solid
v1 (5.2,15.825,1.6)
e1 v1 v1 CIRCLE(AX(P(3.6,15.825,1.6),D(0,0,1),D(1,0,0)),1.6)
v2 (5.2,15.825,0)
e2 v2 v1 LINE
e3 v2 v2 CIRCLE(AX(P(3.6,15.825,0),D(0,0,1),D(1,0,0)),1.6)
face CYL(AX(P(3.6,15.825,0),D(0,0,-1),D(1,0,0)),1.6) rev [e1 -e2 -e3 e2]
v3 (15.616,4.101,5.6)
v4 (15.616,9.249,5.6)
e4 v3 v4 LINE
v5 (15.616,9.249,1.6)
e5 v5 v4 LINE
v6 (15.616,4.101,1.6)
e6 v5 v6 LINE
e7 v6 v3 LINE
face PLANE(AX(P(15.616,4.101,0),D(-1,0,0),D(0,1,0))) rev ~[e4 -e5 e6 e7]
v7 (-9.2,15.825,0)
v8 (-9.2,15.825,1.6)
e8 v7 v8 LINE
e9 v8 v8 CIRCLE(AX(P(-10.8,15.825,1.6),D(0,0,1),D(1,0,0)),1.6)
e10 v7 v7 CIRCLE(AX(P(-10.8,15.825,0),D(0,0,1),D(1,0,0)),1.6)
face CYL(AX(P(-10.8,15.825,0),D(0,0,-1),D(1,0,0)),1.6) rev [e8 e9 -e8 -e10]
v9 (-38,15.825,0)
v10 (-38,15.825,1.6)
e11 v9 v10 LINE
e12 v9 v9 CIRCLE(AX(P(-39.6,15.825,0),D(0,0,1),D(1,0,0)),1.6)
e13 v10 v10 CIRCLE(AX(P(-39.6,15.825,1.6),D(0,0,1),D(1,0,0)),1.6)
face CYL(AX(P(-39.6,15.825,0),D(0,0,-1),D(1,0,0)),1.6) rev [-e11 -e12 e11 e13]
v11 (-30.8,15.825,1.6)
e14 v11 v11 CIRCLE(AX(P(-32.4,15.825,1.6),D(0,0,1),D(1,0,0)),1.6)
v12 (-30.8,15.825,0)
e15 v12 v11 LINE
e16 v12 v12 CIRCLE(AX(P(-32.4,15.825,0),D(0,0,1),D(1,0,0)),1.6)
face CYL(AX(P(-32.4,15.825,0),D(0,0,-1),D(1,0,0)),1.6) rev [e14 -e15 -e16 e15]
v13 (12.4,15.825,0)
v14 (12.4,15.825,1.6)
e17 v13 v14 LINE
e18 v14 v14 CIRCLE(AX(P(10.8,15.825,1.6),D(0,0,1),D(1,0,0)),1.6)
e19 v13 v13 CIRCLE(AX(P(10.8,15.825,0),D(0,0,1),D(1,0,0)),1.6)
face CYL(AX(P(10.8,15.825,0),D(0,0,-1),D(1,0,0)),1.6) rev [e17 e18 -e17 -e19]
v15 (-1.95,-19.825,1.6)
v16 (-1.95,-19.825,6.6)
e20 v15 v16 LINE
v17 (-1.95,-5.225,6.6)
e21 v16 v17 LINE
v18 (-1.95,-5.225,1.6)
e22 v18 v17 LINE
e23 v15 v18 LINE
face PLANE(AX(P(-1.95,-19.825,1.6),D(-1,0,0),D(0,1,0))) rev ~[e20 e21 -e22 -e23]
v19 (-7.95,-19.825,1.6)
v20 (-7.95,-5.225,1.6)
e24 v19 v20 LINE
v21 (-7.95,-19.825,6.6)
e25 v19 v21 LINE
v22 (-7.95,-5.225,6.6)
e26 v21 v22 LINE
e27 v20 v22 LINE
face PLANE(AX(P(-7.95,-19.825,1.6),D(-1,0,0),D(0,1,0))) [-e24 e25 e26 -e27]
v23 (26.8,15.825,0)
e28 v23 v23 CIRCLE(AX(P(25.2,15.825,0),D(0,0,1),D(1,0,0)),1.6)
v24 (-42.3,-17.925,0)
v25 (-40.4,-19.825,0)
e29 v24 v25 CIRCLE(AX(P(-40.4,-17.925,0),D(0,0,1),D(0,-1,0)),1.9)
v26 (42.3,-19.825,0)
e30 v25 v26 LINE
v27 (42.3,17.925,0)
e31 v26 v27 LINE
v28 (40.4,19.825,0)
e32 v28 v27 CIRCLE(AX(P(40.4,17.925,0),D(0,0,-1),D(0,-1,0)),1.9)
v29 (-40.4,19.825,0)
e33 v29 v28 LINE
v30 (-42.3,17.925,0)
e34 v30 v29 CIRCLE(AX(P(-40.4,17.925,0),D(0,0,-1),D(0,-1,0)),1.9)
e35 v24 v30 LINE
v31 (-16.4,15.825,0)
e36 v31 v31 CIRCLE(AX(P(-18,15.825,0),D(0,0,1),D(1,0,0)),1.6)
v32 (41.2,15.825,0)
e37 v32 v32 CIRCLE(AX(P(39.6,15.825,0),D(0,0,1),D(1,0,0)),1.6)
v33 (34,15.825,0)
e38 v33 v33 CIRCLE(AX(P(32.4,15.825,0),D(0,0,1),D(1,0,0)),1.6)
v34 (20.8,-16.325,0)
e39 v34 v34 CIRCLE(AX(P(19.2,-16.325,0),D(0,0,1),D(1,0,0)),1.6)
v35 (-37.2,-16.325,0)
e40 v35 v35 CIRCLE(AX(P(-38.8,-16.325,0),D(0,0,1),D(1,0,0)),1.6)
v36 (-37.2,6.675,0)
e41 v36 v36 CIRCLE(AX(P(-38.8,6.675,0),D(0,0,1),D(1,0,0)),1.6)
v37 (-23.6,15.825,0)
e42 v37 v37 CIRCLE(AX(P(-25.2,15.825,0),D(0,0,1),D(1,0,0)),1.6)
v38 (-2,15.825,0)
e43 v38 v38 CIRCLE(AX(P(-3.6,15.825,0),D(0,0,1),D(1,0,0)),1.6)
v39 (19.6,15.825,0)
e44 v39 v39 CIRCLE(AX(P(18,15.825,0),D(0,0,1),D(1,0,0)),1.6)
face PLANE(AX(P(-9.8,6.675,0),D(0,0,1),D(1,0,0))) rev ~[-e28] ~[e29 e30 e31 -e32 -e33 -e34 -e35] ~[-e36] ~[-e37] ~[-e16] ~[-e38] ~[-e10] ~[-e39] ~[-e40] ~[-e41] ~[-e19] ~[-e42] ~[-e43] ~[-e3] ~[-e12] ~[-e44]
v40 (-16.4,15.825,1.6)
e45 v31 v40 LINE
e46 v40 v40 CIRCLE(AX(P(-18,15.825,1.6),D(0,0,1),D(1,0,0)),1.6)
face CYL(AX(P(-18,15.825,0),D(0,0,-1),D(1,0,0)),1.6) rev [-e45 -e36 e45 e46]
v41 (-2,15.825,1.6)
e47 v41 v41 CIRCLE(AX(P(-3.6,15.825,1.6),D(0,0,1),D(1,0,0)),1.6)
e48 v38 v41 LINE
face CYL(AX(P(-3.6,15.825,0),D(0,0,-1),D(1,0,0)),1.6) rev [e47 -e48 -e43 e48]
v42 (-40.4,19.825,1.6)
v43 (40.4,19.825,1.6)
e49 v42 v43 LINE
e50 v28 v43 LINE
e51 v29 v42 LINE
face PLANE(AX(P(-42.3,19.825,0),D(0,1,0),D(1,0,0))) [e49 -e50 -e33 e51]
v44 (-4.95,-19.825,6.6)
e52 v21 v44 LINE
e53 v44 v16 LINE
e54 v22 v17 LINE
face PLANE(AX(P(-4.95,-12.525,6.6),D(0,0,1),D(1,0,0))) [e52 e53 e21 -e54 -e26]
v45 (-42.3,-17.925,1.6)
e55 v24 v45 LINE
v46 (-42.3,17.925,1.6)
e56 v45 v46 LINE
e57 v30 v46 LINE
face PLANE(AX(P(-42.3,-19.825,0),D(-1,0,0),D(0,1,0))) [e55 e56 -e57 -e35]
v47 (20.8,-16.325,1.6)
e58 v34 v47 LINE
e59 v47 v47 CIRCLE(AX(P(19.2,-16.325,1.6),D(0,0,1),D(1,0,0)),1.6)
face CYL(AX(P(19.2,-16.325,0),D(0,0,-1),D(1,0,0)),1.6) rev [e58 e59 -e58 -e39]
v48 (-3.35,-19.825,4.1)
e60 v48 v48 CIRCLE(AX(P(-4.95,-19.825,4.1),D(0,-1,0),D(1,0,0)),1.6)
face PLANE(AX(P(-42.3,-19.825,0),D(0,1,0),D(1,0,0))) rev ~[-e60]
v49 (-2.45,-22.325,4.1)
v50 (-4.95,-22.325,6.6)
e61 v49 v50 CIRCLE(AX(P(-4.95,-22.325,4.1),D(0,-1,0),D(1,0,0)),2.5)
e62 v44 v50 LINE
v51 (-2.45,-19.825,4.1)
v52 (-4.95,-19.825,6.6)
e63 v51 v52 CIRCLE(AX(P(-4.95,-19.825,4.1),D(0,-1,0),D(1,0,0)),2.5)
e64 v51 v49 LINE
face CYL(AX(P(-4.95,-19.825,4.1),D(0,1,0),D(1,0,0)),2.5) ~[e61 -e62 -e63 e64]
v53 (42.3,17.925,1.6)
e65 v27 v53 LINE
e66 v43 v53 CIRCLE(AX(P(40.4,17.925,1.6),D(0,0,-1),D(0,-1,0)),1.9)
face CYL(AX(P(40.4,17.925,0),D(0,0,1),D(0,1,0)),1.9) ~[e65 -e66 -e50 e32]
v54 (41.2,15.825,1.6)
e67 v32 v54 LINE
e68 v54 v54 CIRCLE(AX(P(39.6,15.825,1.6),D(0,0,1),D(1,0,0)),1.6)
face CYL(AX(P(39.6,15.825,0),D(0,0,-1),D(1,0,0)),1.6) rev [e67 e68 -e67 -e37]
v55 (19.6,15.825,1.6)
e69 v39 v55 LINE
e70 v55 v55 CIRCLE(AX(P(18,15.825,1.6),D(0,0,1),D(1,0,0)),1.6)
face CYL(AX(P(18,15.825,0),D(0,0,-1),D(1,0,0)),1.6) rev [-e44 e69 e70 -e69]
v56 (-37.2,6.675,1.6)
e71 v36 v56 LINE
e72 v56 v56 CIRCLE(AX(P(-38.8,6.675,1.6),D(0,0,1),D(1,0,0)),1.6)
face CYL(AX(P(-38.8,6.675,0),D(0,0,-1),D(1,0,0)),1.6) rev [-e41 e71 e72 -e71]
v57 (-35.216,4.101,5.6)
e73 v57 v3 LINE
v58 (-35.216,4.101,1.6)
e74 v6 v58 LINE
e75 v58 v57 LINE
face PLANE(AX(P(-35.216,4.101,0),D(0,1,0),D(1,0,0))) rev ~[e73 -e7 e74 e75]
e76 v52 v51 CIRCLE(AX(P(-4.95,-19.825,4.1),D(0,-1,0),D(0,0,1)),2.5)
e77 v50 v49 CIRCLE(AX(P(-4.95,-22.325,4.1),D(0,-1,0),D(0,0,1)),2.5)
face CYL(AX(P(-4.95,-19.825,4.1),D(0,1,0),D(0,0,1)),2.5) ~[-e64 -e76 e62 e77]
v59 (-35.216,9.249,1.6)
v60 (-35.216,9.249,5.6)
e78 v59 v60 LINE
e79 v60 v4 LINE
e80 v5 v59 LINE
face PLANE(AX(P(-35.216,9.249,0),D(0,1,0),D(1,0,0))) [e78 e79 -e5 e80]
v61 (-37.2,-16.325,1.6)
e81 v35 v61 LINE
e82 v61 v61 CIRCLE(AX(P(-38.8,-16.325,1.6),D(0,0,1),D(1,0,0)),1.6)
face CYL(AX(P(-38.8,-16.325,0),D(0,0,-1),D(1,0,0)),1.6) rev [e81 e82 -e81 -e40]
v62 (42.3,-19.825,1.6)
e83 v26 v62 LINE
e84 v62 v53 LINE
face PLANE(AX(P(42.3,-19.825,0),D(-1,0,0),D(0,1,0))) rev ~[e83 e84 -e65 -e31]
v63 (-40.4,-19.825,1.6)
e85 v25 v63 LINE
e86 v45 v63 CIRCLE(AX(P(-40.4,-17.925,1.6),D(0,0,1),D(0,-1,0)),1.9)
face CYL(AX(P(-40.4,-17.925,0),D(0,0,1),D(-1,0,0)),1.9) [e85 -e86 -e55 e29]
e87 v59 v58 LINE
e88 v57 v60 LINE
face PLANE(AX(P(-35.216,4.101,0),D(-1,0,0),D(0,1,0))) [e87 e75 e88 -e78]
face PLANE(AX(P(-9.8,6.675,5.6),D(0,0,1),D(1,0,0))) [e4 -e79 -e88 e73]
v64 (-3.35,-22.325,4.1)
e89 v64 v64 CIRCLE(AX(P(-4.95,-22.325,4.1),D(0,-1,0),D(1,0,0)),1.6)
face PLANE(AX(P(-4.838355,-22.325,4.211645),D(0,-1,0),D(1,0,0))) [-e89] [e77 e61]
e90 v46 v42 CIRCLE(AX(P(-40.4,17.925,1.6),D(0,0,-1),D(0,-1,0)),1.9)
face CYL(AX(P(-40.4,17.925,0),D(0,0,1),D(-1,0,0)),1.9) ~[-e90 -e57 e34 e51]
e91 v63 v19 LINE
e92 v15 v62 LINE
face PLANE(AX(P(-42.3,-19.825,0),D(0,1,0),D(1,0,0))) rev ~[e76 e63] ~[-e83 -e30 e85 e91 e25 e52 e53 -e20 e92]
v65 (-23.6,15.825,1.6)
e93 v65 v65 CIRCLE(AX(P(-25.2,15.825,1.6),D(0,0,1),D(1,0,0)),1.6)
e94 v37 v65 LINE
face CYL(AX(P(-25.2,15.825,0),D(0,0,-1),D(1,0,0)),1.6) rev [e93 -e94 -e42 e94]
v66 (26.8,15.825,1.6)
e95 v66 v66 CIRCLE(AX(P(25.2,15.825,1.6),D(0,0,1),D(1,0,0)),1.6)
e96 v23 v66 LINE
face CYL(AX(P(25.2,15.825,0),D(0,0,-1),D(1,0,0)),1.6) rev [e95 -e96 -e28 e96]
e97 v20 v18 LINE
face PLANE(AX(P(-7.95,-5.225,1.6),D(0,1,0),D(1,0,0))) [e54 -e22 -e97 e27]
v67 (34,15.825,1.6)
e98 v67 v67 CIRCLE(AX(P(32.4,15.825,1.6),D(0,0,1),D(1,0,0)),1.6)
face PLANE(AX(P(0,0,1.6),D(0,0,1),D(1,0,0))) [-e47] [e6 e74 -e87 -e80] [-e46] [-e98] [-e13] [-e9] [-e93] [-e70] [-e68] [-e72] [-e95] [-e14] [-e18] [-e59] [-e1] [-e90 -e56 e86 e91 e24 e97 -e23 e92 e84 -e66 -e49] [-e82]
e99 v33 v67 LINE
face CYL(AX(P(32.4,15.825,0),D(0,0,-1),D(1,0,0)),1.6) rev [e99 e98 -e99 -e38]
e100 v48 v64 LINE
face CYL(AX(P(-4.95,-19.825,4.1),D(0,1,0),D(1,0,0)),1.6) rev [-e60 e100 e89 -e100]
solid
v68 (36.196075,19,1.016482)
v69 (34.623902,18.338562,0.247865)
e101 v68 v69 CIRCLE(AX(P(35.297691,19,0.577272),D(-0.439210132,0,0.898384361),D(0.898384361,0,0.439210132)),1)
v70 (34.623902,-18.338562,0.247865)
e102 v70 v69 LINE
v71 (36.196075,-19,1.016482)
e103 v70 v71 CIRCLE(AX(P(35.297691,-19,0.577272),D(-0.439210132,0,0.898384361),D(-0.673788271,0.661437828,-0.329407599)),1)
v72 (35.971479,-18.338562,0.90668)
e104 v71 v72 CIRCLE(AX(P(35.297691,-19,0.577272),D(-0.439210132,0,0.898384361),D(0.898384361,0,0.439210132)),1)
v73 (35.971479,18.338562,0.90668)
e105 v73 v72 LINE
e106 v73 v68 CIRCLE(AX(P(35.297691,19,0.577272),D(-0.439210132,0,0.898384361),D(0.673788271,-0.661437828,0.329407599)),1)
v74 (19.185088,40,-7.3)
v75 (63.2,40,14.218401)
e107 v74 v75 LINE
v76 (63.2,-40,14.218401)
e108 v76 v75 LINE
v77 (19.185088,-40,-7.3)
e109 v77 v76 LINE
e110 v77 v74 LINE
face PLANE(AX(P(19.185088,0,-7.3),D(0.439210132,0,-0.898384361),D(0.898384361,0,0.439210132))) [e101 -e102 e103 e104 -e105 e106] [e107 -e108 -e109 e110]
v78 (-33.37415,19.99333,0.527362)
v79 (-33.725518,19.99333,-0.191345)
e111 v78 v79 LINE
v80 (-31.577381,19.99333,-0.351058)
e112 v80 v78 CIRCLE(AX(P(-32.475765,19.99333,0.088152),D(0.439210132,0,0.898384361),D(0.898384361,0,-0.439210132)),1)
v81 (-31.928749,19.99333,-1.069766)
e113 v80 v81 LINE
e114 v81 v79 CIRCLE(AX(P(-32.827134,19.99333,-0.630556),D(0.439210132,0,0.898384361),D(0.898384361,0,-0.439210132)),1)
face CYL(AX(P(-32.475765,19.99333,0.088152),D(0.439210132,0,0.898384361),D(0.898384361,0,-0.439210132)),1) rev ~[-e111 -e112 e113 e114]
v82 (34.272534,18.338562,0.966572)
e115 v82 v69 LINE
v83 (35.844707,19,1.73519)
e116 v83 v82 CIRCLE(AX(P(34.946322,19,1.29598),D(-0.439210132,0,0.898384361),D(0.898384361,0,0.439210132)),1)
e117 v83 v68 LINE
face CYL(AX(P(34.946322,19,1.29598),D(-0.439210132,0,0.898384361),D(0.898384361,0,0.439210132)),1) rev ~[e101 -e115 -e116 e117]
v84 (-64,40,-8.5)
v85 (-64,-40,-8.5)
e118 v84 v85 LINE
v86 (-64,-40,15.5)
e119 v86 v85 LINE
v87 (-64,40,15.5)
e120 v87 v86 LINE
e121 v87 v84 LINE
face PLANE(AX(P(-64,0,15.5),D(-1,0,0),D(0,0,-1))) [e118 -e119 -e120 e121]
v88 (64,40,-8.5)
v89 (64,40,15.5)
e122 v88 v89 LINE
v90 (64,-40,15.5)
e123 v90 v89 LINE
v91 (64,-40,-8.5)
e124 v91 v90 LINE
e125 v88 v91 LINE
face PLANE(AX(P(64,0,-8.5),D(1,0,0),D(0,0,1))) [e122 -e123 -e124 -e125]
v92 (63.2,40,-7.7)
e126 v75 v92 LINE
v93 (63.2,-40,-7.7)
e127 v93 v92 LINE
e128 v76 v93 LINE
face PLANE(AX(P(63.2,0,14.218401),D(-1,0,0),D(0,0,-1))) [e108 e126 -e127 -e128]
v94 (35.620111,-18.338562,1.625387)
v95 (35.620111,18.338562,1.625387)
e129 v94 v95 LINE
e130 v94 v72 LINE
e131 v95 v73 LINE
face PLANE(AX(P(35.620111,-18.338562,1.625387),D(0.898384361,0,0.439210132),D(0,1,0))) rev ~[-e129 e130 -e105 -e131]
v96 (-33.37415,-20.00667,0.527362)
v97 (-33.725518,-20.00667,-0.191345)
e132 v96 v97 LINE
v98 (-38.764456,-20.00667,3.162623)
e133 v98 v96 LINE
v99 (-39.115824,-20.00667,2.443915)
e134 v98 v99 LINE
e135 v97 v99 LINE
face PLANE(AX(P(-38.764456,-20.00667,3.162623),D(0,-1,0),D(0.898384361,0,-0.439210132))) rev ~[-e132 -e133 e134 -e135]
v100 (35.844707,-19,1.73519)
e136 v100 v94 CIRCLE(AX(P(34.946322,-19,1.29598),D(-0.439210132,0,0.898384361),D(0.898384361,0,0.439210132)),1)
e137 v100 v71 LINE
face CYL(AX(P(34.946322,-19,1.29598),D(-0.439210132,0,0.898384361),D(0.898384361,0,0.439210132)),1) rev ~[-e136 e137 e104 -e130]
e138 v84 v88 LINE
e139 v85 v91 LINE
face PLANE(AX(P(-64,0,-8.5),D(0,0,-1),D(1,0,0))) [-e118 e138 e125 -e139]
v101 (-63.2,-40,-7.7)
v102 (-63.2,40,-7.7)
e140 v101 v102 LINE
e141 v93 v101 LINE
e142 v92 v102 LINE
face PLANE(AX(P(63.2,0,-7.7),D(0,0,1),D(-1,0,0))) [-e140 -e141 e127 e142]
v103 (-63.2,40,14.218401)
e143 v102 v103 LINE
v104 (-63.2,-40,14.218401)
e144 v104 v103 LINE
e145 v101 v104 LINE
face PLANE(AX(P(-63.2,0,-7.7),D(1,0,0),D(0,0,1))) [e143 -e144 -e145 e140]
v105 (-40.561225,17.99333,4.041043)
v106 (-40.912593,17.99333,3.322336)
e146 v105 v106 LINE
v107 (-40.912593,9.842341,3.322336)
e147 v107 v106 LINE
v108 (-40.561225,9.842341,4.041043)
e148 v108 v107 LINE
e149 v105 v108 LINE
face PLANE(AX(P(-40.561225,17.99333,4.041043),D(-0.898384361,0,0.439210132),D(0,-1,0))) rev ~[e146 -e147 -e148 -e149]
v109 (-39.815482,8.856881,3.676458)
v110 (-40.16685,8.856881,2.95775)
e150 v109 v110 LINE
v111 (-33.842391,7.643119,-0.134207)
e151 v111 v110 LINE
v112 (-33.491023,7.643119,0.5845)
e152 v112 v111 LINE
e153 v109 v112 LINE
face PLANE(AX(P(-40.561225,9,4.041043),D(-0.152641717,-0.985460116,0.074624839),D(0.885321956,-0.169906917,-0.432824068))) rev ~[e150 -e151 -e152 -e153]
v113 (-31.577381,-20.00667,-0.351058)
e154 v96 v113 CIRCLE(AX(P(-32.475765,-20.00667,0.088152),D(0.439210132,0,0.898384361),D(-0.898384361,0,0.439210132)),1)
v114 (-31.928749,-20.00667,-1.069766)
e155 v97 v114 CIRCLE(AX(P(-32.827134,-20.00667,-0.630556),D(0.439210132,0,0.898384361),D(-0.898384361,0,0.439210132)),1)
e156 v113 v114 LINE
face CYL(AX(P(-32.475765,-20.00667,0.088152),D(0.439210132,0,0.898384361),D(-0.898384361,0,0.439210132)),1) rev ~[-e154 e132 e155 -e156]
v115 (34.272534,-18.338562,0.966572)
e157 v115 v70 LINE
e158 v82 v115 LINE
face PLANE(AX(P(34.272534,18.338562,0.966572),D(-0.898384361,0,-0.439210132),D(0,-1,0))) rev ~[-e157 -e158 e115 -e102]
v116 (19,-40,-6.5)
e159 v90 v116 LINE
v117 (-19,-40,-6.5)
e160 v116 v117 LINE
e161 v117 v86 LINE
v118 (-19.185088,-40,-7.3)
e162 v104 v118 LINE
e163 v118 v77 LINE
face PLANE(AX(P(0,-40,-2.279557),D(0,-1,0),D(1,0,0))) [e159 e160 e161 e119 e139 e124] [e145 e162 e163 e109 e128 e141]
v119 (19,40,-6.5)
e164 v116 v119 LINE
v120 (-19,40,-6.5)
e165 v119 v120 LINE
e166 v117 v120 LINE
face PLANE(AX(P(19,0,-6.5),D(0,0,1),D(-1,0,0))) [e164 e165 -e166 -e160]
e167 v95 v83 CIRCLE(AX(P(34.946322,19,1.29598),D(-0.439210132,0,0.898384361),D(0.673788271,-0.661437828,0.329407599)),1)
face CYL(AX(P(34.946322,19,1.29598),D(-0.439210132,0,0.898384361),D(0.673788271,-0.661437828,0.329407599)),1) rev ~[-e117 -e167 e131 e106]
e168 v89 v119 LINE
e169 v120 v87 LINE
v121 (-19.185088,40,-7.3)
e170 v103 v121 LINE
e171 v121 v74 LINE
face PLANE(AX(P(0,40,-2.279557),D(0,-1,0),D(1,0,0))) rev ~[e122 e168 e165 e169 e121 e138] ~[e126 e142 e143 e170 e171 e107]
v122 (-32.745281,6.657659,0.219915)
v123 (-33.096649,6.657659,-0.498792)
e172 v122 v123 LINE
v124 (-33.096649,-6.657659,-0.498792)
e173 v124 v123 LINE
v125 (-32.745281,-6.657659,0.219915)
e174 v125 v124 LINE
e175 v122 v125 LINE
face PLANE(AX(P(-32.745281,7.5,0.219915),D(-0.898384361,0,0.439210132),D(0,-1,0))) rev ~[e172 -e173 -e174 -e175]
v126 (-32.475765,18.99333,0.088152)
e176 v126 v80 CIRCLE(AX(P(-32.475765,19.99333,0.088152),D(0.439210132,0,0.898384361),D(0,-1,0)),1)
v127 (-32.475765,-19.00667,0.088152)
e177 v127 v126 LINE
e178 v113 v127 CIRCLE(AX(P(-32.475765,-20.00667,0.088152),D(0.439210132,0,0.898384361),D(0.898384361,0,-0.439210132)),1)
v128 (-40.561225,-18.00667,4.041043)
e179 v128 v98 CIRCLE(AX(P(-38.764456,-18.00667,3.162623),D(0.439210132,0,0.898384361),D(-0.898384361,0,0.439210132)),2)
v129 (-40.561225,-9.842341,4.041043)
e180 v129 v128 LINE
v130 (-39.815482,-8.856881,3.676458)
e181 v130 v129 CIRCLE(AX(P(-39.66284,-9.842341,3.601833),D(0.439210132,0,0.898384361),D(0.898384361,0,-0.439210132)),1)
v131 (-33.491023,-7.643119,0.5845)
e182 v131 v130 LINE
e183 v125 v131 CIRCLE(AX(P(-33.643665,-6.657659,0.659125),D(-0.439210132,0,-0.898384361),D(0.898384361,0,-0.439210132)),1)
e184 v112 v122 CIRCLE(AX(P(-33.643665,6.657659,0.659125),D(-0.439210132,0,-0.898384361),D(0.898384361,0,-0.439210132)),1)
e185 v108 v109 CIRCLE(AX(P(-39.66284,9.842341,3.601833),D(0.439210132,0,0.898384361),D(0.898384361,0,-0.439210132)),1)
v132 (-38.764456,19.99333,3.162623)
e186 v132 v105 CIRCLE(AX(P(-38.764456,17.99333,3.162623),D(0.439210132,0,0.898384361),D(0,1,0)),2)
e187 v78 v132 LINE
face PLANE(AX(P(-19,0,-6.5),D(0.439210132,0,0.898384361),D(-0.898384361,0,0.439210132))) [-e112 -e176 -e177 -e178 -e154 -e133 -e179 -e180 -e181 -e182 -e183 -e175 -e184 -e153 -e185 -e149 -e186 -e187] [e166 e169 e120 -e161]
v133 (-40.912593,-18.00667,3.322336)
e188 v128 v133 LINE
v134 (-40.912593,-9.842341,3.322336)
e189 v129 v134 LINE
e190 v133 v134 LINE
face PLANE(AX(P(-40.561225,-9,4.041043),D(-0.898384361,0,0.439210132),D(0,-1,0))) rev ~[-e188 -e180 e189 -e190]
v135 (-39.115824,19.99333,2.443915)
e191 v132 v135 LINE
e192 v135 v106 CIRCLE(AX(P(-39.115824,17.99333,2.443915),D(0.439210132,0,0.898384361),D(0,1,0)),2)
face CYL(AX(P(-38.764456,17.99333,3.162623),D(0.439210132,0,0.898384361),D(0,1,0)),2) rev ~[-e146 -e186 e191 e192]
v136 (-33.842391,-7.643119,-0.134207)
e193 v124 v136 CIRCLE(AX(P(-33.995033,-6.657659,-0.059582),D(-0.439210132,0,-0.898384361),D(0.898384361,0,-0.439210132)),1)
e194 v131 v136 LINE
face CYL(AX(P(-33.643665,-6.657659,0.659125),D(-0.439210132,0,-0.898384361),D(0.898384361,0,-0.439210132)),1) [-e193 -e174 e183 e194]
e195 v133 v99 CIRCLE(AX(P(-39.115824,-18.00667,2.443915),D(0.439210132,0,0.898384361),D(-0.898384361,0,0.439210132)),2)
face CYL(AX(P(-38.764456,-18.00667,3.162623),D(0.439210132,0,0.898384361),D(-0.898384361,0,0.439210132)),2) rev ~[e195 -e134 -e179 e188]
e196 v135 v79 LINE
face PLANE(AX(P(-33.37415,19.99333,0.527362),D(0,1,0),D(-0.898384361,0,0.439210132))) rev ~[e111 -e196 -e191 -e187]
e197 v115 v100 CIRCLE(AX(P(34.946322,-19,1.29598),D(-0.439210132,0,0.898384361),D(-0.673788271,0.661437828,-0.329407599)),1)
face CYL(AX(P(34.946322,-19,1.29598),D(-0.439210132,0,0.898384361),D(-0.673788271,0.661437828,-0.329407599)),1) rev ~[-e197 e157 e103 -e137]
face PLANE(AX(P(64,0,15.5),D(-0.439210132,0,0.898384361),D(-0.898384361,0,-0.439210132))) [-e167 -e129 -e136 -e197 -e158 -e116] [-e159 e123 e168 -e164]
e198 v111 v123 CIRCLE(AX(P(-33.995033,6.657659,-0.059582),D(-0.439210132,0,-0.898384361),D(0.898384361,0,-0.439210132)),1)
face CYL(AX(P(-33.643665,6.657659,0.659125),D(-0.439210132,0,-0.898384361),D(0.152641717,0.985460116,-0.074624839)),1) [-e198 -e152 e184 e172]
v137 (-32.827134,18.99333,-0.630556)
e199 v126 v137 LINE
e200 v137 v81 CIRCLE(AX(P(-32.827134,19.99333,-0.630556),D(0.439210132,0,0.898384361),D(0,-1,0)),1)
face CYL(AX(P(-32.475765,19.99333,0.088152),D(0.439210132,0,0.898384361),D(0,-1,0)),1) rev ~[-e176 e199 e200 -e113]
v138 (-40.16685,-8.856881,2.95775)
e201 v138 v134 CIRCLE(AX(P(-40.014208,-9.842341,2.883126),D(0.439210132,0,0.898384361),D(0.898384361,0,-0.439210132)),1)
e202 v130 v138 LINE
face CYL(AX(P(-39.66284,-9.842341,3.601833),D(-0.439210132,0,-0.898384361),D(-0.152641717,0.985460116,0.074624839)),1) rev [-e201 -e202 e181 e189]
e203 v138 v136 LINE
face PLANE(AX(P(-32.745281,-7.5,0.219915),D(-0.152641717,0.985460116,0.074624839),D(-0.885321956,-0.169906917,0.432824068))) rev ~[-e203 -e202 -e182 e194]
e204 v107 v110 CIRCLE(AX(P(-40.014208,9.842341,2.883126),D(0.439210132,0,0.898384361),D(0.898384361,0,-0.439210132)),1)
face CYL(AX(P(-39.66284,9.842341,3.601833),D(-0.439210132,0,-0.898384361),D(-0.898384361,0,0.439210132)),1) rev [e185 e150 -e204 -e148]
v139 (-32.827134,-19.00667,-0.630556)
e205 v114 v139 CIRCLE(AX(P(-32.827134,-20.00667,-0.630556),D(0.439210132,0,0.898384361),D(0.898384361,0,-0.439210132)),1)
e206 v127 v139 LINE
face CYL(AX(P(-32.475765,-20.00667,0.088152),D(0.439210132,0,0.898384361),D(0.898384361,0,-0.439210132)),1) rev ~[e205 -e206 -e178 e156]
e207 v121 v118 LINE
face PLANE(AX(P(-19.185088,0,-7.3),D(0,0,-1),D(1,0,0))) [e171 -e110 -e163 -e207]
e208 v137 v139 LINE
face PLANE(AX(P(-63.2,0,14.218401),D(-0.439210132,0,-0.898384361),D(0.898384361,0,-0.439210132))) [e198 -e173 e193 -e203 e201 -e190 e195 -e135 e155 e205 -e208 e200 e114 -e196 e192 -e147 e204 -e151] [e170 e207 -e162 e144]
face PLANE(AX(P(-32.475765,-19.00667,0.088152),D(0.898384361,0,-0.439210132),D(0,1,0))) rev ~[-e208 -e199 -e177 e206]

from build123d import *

# Parameters (mm, degrees)
F0_W      = 84.6
F0_H      = 39.65
F0_R      = 1.6
F1_DEPTH  = 1.6
F2_R      = 1.9
F3_W      = 6
F3_H      = 14.6
F4_DEPTH  = 5
F5_R      = 1.6
F6_DEPTH  = 2.5
F7_W      = 50.832
F7_H      = 5.148
F8_DEPTH  = 5.6
F10_DEPTH = 40
F12_DEPTH = 3
F14_DEPTH = 3
F15_R     = 1


with BuildPart() as f1:
    # F0 (on Top) → F1 (new body)
    with BuildSketch(Plane.XY):
        Rectangle(F0_W, F0_H)
        with Locations((-38.8, -16.325)):
            Circle(F0_R, mode=Mode.SUBTRACT)
        with Locations((19.2, -16.325)):
            Circle(F0_R, mode=Mode.SUBTRACT)
        with Locations((-38.8, 6.675)):
            Circle(F0_R, mode=Mode.SUBTRACT)
        with Locations((-39.6, 15.825)):
            Circle(F0_R, mode=Mode.SUBTRACT)
        with Locations((-32.4, 15.825)):
            Circle(F0_R, mode=Mode.SUBTRACT)
        with Locations((-25.2, 15.825)):
            Circle(F0_R, mode=Mode.SUBTRACT)
        with Locations((-18, 15.825)):
            Circle(F0_R, mode=Mode.SUBTRACT)
        with Locations((-10.8, 15.825)):
            Circle(F0_R, mode=Mode.SUBTRACT)
        with Locations((-3.6, 15.825)):
            Circle(F0_R, mode=Mode.SUBTRACT)
        with Locations((3.6, 15.825)):
            Circle(F0_R, mode=Mode.SUBTRACT)
        with Locations((10.8, 15.825)):
            Circle(F0_R, mode=Mode.SUBTRACT)
        with Locations((18, 15.825)):
            Circle(F0_R, mode=Mode.SUBTRACT)
        with Locations((25.2, 15.825)):
            Circle(F0_R, mode=Mode.SUBTRACT)
        with Locations((32.4, 15.825)):
            Circle(F0_R, mode=Mode.SUBTRACT)
        with Locations((39.6, 15.825)):
            Circle(F0_R, mode=Mode.SUBTRACT)
    extrude(amount=F1_DEPTH)

    # F2
    f2_edges = [f1.edges().sort_by_distance(p)[0] for p in [
        (-42.3, -19.825, 0.8),
        (-42.3, 19.825, 0.8),
        (42.3, 19.825, 0.8),
    ]]
    fillet(f2_edges, radius=F2_R)

    # F3 (on face) → F4 (join)
    with BuildSketch(Plane.XY.offset(1.6)):
        with Locations((-4.95, -12.525)):
            Rectangle(F3_W, F3_H)
    extrude(amount=F4_DEPTH)

    # F5 (on face) → F6 (join)
    with BuildSketch(Plane.XZ.offset(19.825)):
        with BuildLine():
            ThreePointArc((-4.95, 6.6), (-6.717766953, 2.332233047), (-2.45, 4.1))
            ThreePointArc((-2.45, 4.1), (-3.182233047, 5.867766953), (-4.95, 6.6))
        make_face()
        with Locations((-4.95, 4.1)):
            Circle(F5_R, mode=Mode.SUBTRACT)
    extrude(amount=F6_DEPTH)

    # F7 (on Top) → F8 (join)
    with BuildSketch(Plane.XY):
        with Locations((-9.8, 6.675)):
            Rectangle(F7_W, F7_H)
    extrude(amount=F8_DEPTH)


with BuildPart() as f10:
    # F9 (on Front) → F10 (new body, symmetric)
    with BuildSketch(Plane.XZ):
        Polygon((-19, -6.5), (-64, 15.5), (-64, -8.5), (64, -8.5), (64, 15.5), (19, -6.5), align=None)
        Polygon((-19.1850879689, -7.3), (19.1850879689, -7.3), (63.2, 14.2184014374), (63.2, -7.7), (-63.2, -7.7), (-63.2, 14.2184014374), align=None, mode=Mode.SUBTRACT)
    extrude(amount=F10_DEPTH, both=True)

    # F11 (on face) → F12 (cut)
    with BuildSketch(Plane(origin=(-6.2299721004, 0, -12.7431247509), x_dir=(0.8983843609, 0, -0.439210132), z_dir=(0.439210132, 0, 0.8983843609))):
        with BuildLine():
            Line((-30.2144369994, -20.0066703183), (-29.2144369994, -20.0066703183))
            Line((-29.2144369994, -20.0066703183), (-29.2144369994, -19.0066703183))
            ThreePointArc((-29.2144369994, -19.0066703183), (-29.9215437806, -19.2995635372), (-30.2144369994, -20.0066703183))
        make_face()
        with BuildLine():
            Line((-29.2144369994, -19.0066703183), (-29.2144369994, -20.0066703183))
            Line((-29.2144369994, -20.0066703183), (-30.2144369994, -20.0066703183))
            ThreePointArc((-30.2144369994, -20.0066703183), (-29.2144369994, -21.0066703183), (-28.2144369994, -20.0066703183))
            ThreePointArc((-28.2144369994, -20.0066703183), (-28.5073302182, -19.2995635372), (-29.2144369994, -19.0066703183))
        make_face()
        with BuildLine():
            ThreePointArc((-30.2144369994, 19.9933296817), (-29.9215437806, 19.2862229005), (-29.2144369994, 18.9933296817))
            Line((-29.2144369994, 18.9933296817), (-29.2144369994, 19.9933296817))
            Line((-29.2144369994, 19.9933296817), (-30.2144369994, 19.9933296817))
        make_face()
        with BuildLine():
            Line((-29.2144369994, 19.9933296817), (-29.2144369994, 18.9933296817))
            ThreePointArc((-29.2144369994, 18.9933296817), (-28.5073302182, 19.2862229005), (-28.2144369994, 19.9933296817))
            ThreePointArc((-28.2144369994, 19.9933296817), (-29.2144369994, 20.9933296817), (-30.2144369994, 19.9933296817))
            Line((-30.2144369994, 19.9933296817), (-29.2144369994, 19.9933296817))
        make_face()
        with BuildLine():
            ThreePointArc((-30.2144369994, -20.0066703183), (-29.9215437806, -19.2995635372), (-29.2144369994, -19.0066703183))
            Line((-29.2144369994, -19.0066703183), (-29.2144369994, 18.9933296817))
            ThreePointArc((-29.2144369994, 18.9933296817), (-29.9215437806, 19.2862229005), (-30.2144369994, 19.9933296817))
            Line((-30.2144369994, 19.9933296817), (-36.2144369994, 19.9933296817))
            ThreePointArc((-36.2144369994, 19.9933296817), (-37.6286505618, 19.407543244), (-38.2144369994, 17.9933296817))
            Line((-38.2144369994, 17.9933296817), (-38.2144369994, 9))
            Line((-38.2144369994, 9), (-29.5144369994, 7.5))
            Line((-29.5144369994, 7.5), (-29.5144369994, -7.5))
            Line((-29.5144369994, -7.5), (-38.2144369994, -9))
            Line((-38.2144369994, -9), (-38.2144369994, -18.0066703183))
            ThreePointArc((-38.2144369994, -18.0066703183), (-37.6286505618, -19.4208838807), (-36.2144369994, -20.0066703183))
            Line((-36.2144369994, -20.0066703183), (-30.2144369994, -20.0066703183))
        make_face()
    extrude(amount=-F12_DEPTH, mode=Mode.SUBTRACT)

    # F13 (on face) → F14 (cut)
    with BuildSketch(Plane(origin=(6.2299721004, 0, -12.7431247509), x_dir=(0.8983843609, 0, 0.439210132), z_dir=(-0.439210132, 0, 0.8983843609))):
        with BuildLine():
            ThreePointArc((31.2144369994, -18.3385621722), (31.5529991717, -18.0885621722), (31.9644369994, -18))
            Line((31.9644369994, -18), (31.9644369994, 0))
            Line((31.9644369994, 0), (31.2144369994, 0))
            Line((31.2144369994, 0), (31.2144369994, -18.3385621722))
        make_face()
        with BuildLine():
            Line((31.9644369994, 0), (31.9644369994, -18))
            ThreePointArc((31.9644369994, -18), (32.3758748272, -18.0885621722), (32.7144369994, -18.3385621722))
            Line((32.7144369994, -18.3385621722), (32.7144369994, 0))
            Line((32.7144369994, 0), (31.9644369994, 0))
        make_face()
        with BuildLine():
            ThreePointArc((32.7144369994, -18.3385621722), (32.3758748272, -18.0885621722), (31.9644369994, -18))
            ThreePointArc((31.9644369994, -18), (31.5529991717, -18.0885621722), (31.2144369994, -18.3385621722))
            Line((31.2144369994, -18.3385621722), (31.2144369994, -19))
            ThreePointArc((31.2144369994, -19), (31.9644369994, -19.75), (32.7144369994, -19))
            Line((32.7144369994, -19), (32.7144369994, -18.3385621722))
        make_face()
        with BuildLine():
            Line((31.2144369994, 0), (31.9644369994, 0))
            Line((31.9644369994, 0), (31.9644369994, 18))
            ThreePointArc((31.9644369994, 18), (31.5529991717, 18.0885621722), (31.2144369994, 18.3385621722))
            Line((31.2144369994, 18.3385621722), (31.2144369994, 0))
        make_face()
        with BuildLine():
            Line((31.9644369994, 18), (31.9644369994, 0))
            Line((31.9644369994, 0), (32.7144369994, 0))
            Line((32.7144369994, 0), (32.7144369994, 18.3385621722))
            ThreePointArc((32.7144369994, 18.3385621722), (32.3758748272, 18.0885621722), (31.9644369994, 18))
        make_face()
        with BuildLine():
            ThreePointArc((32.9644369994, -19), (32.8998513461, -18.6464466094), (32.7144369994, -18.3385621722))
            Line((32.7144369994, -18.3385621722), (32.7144369994, -19))
            ThreePointArc((32.7144369994, -19), (31.9644369994, -19.75), (31.2144369994, -19))
            Line((31.2144369994, -19), (31.2144369994, -18.3385621722))
            ThreePointArc((31.2144369994, -18.3385621722), (31.6108836088, -19.9354143467), (32.9644369994, -19))
        make_face()
        with BuildLine():
            ThreePointArc((31.2144369994, 18.3385621722), (31.5529991717, 18.0885621722), (31.9644369994, 18))
            ThreePointArc((31.9644369994, 18), (32.3758748272, 18.0885621722), (32.7144369994, 18.3385621722))
            Line((32.7144369994, 18.3385621722), (32.7144369994, 19))
            ThreePointArc((32.7144369994, 19), (31.9644369994, 19.75), (31.2144369994, 19))
            Line((31.2144369994, 19), (31.2144369994, 18.3385621722))
        make_face()
        with BuildLine():
            ThreePointArc((32.9644369994, 19), (31.6108836088, 19.9354143467), (31.2144369994, 18.3385621722))
            Line((31.2144369994, 18.3385621722), (31.2144369994, 19))
            ThreePointArc((31.2144369994, 19), (31.9644369994, 19.75), (32.7144369994, 19))
            Line((32.7144369994, 19), (32.7144369994, 18.3385621722))
            ThreePointArc((32.7144369994, 18.3385621722), (32.8998513461, 18.6464466094), (32.9644369994, 19))
        make_face()
    extrude(amount=-F14_DEPTH, mode=Mode.SUBTRACT)

    # F15
    f15_edges = [f10.edges().sort_by_distance(p)[0] for p in [
        (-40.736909, -9, 3.681689),
        (-40.736909, 9, 3.681689),
        (-32.920965, 7.5, -0.139439),
        (-32.920965, -7.5, -0.139439),
    ]]
    fillet(f15_edges, radius=F15_R)


with BuildPart() as f16_1:
    # F16: copy of F10
    add(f10.part)


with BuildPart() as f18_1:
    # F18: copy of F10
    add(f10.part)


solid = Compound([f1.part, f10.part])
